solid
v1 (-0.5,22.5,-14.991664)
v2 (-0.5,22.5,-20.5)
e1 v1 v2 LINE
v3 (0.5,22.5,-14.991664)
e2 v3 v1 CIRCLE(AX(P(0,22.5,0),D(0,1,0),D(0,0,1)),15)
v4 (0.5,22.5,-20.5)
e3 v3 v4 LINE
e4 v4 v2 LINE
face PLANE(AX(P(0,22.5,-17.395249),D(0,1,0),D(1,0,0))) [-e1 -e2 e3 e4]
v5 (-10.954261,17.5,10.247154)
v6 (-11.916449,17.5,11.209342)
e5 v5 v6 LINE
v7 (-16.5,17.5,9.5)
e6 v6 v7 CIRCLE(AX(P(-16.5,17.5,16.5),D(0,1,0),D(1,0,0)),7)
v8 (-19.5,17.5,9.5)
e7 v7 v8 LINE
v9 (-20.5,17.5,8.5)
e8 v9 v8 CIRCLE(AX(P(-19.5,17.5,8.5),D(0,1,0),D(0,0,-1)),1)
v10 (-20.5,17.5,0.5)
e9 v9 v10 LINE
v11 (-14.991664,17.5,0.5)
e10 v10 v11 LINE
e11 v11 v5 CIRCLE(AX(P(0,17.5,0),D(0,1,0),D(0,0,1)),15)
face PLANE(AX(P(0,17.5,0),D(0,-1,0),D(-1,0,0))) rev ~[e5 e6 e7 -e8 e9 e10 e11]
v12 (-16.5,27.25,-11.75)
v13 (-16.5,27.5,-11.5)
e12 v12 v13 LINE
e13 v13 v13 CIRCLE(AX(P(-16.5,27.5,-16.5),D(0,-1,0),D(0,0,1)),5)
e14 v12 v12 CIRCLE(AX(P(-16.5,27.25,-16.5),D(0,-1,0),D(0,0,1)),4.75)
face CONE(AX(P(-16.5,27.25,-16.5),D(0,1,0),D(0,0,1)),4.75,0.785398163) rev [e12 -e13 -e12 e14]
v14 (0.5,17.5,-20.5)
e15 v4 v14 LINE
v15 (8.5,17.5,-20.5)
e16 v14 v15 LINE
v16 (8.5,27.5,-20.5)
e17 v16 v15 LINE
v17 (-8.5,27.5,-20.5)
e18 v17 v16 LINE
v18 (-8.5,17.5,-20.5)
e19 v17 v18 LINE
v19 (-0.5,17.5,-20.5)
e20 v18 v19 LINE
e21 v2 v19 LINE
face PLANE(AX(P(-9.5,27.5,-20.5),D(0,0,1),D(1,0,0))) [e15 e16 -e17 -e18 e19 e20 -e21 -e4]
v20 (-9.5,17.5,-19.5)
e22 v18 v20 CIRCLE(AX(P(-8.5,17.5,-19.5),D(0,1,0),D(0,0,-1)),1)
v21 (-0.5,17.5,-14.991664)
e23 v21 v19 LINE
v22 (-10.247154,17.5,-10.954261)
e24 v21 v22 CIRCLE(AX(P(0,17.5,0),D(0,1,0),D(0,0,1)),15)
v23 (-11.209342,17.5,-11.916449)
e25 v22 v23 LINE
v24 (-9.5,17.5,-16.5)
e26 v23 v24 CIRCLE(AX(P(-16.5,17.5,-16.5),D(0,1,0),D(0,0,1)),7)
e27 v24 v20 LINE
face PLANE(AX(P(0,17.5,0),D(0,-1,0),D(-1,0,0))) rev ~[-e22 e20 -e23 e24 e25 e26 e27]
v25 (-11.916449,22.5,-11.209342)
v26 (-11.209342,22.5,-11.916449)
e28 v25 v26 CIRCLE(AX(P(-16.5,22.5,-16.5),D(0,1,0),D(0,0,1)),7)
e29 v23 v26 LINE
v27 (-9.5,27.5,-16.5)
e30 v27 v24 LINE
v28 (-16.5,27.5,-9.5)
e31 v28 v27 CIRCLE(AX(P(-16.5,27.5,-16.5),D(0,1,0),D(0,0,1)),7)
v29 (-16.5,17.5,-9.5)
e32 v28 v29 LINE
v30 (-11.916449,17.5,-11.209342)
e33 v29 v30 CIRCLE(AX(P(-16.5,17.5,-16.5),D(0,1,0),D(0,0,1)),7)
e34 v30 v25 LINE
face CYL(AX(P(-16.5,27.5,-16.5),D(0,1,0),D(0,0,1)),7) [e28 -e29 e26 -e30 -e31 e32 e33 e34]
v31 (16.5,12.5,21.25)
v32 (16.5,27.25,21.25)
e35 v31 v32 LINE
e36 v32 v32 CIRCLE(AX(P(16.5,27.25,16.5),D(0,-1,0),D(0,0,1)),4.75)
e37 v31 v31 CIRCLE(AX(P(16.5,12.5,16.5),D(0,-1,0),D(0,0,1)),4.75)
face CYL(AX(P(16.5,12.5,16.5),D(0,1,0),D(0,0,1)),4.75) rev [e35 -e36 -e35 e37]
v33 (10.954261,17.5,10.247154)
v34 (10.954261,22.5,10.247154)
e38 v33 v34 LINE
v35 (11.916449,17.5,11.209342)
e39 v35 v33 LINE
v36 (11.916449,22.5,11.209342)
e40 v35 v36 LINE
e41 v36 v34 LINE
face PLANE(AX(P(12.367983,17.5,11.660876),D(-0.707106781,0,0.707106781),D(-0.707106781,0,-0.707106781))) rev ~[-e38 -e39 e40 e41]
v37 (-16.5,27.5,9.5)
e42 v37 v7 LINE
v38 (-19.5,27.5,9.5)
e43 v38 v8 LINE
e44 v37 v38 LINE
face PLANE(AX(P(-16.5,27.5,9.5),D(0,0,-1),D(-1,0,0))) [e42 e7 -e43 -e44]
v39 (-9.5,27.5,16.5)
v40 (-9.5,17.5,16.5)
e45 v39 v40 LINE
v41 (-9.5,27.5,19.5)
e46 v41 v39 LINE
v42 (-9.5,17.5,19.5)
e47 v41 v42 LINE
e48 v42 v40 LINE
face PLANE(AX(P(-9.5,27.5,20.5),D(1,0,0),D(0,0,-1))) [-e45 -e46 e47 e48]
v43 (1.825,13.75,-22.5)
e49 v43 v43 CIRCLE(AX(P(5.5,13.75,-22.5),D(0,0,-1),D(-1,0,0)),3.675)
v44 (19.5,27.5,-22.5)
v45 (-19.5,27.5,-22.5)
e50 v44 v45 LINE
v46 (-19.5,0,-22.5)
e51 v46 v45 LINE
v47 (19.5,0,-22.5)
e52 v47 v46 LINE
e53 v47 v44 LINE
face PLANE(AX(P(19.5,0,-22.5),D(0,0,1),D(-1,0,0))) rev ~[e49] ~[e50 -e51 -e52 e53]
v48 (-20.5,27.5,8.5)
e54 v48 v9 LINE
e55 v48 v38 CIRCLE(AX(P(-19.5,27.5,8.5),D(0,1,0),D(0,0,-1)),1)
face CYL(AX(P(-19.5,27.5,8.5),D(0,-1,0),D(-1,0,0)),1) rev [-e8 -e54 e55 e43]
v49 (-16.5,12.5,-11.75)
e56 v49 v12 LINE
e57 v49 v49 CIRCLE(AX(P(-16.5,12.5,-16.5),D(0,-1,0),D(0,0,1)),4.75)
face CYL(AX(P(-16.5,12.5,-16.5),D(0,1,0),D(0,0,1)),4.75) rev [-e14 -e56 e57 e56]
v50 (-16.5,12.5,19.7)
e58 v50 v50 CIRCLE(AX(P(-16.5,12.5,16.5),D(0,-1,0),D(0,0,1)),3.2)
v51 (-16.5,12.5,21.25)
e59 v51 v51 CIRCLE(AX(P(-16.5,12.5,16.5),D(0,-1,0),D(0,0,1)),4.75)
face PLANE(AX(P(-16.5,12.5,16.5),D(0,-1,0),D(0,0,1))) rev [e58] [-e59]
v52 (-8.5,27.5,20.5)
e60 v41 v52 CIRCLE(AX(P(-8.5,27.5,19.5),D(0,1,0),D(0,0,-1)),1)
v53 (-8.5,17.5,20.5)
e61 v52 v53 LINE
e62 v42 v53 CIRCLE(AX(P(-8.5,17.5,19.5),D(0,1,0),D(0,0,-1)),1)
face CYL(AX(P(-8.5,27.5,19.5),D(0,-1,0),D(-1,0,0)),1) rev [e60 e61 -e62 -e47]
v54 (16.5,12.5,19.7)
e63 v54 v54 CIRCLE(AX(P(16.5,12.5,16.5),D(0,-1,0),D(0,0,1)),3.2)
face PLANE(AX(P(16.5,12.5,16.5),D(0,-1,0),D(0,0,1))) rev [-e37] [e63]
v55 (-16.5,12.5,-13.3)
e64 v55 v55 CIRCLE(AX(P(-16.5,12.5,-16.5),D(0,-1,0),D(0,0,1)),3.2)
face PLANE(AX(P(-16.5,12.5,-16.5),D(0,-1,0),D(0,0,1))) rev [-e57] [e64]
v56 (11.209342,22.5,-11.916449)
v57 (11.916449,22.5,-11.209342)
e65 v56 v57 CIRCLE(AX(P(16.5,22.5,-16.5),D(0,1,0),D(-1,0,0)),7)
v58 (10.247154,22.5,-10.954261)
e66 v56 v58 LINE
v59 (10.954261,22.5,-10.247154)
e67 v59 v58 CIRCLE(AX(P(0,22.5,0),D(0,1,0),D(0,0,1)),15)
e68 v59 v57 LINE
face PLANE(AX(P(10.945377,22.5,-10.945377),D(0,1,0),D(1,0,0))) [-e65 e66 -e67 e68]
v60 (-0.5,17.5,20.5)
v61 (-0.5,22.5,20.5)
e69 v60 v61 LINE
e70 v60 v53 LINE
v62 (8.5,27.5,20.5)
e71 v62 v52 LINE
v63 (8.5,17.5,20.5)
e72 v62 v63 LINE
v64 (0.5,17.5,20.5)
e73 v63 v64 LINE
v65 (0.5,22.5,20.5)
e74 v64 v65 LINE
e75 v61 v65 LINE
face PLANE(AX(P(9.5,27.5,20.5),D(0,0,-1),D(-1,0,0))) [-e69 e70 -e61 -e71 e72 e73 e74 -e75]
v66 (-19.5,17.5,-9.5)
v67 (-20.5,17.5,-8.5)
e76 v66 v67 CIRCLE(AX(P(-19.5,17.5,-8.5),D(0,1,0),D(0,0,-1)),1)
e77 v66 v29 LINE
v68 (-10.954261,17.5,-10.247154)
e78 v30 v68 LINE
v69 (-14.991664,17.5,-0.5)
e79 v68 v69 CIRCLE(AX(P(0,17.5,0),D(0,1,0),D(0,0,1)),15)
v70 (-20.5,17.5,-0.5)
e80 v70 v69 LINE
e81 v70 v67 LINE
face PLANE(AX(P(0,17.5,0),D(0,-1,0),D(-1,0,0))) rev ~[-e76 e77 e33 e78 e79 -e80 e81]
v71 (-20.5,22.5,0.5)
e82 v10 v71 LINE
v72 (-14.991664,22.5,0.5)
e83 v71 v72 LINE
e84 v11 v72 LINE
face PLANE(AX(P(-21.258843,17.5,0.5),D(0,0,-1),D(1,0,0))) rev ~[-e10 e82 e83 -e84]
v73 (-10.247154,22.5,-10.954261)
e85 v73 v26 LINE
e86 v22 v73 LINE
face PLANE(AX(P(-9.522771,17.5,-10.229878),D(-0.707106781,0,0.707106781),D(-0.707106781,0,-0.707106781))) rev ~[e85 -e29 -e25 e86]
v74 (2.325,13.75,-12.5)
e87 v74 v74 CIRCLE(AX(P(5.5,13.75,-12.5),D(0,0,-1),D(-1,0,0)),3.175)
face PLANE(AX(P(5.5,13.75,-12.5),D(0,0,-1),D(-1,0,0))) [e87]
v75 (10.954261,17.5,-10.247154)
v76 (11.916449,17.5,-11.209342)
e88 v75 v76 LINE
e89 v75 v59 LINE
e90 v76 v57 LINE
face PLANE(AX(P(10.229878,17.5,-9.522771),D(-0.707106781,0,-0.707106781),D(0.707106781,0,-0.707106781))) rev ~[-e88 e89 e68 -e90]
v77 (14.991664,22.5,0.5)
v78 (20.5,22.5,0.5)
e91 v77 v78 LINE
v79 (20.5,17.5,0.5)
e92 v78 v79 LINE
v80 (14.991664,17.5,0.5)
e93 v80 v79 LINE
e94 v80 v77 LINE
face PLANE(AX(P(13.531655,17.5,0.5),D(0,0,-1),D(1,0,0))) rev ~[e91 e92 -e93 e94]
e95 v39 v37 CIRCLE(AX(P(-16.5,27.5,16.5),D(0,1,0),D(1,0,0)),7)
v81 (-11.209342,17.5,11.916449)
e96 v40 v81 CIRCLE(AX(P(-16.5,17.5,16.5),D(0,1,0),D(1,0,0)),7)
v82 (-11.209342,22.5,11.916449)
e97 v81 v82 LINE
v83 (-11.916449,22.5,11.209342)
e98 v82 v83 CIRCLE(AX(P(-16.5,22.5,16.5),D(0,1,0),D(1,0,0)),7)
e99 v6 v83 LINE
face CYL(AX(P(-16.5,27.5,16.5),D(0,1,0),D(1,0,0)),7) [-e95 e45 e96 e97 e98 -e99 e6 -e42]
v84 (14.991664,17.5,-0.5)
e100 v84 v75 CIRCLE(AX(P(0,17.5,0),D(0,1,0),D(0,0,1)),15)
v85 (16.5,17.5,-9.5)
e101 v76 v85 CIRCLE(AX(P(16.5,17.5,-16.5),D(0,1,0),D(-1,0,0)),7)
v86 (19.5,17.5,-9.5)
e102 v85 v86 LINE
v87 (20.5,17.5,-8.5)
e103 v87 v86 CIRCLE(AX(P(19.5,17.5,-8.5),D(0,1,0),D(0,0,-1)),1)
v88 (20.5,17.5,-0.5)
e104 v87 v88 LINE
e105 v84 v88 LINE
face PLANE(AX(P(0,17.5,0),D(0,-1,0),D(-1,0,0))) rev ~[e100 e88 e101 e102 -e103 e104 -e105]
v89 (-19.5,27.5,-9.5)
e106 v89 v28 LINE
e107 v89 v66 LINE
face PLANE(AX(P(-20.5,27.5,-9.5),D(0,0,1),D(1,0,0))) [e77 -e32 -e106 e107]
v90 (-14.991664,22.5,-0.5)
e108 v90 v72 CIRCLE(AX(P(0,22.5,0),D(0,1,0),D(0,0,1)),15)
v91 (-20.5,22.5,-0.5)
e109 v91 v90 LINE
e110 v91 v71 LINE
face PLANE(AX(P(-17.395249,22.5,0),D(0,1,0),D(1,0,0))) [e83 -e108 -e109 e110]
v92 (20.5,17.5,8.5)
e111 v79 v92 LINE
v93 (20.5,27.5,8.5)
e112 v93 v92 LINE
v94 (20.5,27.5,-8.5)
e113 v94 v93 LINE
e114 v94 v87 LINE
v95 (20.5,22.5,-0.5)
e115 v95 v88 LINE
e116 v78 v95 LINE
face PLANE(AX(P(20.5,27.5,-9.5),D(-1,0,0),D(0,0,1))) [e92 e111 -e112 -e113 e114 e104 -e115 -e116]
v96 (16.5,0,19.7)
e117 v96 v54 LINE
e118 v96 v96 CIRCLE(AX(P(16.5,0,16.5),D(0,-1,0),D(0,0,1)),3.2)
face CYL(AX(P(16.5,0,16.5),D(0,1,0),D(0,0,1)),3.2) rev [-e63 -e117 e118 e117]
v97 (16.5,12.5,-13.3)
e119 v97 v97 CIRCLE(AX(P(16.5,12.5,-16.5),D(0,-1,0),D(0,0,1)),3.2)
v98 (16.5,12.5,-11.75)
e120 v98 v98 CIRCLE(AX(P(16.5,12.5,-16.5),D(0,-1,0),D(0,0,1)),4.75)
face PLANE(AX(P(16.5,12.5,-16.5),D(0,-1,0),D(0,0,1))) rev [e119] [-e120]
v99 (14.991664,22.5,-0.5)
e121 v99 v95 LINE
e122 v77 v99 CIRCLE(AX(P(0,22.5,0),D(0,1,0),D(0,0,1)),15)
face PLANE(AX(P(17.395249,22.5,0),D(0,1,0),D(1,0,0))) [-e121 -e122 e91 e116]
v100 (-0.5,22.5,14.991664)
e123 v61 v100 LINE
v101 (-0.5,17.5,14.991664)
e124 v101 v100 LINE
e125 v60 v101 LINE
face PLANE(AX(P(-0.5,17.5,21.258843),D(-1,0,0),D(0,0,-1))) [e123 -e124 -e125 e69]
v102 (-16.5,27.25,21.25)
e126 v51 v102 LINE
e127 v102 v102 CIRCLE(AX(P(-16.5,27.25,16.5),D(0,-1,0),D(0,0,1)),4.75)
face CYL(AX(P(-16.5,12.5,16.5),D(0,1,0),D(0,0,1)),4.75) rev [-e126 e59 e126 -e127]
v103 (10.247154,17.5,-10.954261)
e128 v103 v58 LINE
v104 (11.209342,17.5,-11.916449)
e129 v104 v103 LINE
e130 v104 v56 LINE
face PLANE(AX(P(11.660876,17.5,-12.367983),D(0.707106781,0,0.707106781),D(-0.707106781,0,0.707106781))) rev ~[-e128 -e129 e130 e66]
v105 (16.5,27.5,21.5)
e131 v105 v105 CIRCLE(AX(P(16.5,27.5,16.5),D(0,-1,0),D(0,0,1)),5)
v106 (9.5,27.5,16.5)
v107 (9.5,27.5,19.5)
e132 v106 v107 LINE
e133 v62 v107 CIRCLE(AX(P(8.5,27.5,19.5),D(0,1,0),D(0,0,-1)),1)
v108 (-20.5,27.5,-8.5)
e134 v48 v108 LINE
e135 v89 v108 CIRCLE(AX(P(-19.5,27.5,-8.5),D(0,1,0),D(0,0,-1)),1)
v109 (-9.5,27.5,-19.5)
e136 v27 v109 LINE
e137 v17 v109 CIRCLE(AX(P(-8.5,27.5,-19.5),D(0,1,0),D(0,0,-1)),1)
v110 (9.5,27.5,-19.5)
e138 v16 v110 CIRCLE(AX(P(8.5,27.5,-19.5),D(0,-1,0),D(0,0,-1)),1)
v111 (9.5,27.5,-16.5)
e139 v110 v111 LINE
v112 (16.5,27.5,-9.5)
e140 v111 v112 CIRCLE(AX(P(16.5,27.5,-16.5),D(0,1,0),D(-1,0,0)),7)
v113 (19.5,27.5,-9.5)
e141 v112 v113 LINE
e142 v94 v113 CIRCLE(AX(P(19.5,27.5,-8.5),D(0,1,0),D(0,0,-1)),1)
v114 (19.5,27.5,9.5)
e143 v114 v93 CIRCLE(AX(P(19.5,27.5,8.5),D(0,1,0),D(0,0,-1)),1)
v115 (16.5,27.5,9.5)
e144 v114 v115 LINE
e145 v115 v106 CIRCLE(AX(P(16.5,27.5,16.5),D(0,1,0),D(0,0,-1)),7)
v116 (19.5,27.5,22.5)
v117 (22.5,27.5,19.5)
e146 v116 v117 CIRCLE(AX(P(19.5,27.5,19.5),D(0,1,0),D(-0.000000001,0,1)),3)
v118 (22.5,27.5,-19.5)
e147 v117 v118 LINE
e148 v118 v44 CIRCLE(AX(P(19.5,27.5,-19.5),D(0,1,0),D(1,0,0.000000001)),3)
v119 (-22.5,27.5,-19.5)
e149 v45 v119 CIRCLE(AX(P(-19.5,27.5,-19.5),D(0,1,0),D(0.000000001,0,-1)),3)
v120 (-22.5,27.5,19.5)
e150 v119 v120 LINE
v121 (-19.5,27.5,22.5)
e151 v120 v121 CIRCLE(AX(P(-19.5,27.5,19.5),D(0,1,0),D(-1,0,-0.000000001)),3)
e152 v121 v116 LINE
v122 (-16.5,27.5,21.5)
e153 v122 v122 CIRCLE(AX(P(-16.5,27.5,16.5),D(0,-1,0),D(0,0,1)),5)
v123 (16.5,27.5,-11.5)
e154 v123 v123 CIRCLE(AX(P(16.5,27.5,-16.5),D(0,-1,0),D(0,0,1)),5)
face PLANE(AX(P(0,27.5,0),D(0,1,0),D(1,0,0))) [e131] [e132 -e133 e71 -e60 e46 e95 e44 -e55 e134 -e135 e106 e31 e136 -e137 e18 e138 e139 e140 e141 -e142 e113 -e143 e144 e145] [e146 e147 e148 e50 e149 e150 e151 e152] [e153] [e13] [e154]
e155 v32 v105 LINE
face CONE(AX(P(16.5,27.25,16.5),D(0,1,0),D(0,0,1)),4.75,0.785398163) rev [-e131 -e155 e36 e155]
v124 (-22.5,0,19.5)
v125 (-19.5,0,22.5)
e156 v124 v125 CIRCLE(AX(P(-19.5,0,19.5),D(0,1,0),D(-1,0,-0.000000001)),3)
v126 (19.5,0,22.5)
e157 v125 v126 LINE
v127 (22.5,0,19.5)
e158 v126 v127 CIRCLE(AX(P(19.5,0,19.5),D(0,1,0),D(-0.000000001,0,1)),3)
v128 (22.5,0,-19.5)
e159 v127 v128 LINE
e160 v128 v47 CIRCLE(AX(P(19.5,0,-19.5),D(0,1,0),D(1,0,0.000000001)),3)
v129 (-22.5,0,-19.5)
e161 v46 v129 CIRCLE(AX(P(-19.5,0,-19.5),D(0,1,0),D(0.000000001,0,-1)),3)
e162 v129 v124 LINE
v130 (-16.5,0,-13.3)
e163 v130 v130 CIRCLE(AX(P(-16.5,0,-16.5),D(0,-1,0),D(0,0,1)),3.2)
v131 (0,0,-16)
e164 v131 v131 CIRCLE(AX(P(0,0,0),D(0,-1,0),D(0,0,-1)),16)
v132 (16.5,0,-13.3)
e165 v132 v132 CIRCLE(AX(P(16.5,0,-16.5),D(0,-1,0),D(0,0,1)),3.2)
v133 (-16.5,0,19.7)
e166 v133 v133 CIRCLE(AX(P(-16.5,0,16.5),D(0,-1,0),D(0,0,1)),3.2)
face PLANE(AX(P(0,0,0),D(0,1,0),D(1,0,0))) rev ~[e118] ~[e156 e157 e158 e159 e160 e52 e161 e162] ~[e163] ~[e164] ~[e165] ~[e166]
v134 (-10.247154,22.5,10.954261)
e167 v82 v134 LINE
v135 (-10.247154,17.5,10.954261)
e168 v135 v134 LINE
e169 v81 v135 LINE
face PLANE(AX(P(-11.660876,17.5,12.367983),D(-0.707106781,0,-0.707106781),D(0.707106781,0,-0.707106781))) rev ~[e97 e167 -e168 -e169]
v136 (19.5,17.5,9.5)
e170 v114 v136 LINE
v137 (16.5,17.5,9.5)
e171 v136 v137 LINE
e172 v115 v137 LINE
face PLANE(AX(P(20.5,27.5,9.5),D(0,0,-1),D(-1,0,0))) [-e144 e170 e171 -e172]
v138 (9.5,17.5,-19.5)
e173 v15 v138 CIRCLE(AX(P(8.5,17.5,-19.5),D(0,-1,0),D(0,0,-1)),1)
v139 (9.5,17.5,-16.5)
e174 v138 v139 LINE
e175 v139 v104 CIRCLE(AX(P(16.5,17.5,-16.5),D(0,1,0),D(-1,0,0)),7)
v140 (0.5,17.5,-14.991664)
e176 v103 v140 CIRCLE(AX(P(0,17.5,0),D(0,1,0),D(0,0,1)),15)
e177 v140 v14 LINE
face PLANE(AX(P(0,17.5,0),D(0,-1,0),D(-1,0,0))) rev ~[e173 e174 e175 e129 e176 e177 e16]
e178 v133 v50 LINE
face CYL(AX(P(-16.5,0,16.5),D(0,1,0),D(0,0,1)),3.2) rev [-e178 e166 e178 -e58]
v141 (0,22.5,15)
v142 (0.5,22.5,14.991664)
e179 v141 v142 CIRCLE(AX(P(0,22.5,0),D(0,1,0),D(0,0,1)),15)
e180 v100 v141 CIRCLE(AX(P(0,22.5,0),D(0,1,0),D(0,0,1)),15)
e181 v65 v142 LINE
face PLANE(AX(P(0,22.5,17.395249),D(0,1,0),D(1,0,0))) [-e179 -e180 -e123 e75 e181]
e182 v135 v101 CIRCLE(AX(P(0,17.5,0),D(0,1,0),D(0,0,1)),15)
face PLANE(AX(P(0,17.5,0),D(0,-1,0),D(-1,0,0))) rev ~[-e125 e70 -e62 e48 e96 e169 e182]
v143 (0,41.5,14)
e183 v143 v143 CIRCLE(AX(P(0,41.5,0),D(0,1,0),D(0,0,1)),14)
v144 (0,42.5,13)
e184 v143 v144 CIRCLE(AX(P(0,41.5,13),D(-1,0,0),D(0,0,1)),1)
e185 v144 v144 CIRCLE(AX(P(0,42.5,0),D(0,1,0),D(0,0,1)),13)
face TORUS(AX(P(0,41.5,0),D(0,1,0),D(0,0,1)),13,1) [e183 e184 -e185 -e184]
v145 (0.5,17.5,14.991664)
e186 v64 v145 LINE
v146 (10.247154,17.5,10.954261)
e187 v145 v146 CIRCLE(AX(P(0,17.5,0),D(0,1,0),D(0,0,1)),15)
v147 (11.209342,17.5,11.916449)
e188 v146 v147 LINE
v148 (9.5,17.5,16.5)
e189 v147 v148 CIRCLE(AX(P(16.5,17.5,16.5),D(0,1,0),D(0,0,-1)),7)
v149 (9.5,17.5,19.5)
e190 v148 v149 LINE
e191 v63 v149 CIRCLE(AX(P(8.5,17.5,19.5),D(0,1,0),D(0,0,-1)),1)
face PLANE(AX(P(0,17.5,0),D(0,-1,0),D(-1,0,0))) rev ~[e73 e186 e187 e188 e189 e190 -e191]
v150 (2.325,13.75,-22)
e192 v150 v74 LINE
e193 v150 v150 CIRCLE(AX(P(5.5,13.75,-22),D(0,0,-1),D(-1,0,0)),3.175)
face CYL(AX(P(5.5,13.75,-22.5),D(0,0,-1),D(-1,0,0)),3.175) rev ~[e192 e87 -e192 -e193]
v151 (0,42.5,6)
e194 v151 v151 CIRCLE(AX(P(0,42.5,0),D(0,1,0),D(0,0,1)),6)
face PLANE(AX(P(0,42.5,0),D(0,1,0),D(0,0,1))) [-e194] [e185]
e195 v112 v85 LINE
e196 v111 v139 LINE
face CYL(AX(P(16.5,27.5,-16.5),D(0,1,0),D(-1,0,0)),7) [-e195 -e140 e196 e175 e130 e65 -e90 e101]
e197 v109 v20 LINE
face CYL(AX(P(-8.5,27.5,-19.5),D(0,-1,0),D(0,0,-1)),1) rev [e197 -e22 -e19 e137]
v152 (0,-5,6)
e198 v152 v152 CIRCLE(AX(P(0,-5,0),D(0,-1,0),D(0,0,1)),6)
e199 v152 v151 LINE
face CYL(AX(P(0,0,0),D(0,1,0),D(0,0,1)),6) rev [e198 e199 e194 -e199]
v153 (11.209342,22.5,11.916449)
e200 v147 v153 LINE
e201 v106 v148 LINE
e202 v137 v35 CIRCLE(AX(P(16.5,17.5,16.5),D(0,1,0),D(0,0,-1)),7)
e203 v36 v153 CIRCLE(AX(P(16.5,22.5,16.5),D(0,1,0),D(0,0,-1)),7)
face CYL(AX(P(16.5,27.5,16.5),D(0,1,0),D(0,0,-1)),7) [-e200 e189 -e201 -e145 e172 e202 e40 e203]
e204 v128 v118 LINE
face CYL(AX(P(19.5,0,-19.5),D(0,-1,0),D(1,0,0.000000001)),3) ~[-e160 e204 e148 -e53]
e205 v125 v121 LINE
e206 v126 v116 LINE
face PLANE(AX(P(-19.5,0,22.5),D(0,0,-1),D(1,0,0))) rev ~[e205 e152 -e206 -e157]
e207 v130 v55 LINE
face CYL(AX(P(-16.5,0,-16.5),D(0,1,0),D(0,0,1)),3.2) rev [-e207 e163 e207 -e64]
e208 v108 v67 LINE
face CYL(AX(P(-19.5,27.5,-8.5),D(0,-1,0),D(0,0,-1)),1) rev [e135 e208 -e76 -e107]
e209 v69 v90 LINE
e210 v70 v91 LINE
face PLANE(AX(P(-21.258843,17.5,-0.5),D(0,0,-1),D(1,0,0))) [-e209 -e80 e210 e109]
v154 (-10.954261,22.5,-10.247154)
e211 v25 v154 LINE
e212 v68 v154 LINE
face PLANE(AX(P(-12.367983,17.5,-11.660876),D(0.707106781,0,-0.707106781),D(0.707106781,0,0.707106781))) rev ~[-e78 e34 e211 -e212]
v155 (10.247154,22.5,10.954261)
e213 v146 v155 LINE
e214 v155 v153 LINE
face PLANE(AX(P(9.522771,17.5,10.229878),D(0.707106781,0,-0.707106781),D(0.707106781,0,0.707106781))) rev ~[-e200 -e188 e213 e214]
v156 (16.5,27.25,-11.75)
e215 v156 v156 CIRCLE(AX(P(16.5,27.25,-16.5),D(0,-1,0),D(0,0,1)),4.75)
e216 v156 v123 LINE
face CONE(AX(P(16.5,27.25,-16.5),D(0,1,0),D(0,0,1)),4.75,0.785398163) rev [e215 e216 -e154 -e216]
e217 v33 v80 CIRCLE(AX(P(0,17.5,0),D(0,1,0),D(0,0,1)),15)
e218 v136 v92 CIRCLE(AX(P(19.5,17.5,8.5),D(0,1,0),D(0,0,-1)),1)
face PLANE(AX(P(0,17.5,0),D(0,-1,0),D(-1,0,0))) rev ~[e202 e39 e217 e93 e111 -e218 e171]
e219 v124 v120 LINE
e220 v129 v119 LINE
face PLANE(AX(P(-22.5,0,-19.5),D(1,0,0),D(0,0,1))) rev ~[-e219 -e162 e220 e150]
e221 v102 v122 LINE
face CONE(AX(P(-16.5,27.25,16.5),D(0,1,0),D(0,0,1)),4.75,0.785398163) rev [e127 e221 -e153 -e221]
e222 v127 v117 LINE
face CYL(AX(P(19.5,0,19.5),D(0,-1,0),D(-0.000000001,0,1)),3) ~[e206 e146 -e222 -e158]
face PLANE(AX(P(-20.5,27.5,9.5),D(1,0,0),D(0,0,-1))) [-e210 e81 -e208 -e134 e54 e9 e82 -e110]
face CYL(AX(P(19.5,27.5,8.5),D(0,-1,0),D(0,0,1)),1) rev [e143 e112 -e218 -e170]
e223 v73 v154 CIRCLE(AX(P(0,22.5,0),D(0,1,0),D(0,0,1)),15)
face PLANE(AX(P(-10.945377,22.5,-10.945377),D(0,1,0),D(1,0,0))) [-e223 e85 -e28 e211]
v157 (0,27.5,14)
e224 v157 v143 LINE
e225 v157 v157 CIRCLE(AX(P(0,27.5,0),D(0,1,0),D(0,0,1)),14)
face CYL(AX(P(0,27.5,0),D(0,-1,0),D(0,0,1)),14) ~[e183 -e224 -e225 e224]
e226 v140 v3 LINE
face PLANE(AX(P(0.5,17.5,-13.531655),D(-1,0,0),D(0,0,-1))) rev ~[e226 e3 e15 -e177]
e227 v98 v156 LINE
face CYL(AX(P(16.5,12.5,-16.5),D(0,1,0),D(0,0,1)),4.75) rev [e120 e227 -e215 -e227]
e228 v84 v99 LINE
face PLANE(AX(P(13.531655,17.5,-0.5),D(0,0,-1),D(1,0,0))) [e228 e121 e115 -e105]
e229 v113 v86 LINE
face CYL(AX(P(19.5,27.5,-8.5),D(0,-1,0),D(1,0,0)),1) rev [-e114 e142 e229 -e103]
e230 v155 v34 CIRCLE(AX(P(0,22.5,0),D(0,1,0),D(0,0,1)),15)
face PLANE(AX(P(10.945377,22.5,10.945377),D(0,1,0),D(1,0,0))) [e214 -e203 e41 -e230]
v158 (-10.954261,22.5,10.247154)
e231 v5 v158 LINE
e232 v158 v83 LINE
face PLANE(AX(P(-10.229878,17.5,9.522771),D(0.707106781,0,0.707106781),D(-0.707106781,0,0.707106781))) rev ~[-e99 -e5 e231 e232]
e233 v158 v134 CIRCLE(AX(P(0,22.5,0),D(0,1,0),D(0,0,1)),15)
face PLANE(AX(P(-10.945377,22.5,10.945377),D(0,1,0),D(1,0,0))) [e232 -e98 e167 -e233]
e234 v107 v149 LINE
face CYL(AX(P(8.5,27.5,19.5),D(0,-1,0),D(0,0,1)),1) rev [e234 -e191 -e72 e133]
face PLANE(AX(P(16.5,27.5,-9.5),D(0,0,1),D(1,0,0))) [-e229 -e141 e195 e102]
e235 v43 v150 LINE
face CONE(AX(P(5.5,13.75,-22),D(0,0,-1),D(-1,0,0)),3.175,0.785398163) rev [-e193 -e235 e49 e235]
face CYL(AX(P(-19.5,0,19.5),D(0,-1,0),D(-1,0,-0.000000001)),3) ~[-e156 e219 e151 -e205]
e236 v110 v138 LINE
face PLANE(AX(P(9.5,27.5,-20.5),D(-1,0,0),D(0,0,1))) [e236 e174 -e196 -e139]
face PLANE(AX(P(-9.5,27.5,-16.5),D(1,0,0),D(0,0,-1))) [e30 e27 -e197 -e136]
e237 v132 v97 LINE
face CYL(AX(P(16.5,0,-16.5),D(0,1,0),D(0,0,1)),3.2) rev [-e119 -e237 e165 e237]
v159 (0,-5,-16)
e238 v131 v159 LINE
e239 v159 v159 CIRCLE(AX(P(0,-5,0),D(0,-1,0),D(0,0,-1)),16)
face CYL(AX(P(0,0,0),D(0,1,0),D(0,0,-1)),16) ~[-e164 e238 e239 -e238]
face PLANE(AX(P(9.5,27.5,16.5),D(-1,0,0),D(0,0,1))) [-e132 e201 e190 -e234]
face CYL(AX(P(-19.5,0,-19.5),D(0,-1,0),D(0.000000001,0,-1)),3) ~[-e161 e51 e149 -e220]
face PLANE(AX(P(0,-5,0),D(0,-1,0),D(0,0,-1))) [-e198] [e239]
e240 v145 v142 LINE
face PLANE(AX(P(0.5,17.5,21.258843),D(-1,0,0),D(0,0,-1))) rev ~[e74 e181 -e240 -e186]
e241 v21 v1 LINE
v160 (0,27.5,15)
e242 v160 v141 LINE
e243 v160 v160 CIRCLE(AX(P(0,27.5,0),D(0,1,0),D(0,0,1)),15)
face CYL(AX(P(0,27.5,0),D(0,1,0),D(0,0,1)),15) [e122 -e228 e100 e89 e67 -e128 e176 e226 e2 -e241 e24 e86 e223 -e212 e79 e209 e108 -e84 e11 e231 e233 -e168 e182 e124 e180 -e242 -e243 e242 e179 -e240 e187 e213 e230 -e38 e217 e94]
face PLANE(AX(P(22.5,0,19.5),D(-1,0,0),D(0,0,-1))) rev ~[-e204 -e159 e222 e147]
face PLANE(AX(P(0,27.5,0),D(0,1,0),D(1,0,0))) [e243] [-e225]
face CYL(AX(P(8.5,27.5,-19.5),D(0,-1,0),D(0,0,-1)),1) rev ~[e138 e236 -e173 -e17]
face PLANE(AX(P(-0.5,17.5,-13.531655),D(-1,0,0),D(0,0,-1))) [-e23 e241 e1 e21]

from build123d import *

# Parameters (mm, degrees)
BOSS_EXTRUDE1_DEPTH                          = 27.5
CBORE_FOR_M6_HEX_SOCKET_HEAD_CAP_SCR_2_COUNT = 2
CBORE_FOR_M6_HEX_SOCKET_HEAD_CAP_SCR_2_PITCH = 33
CBORE_FOR_M6_HEX_SOCKET_HEAD_CAP_SCR_3_COUNT = 2
CBORE_FOR_M6_HEX_SOCKET_HEAD_CAP_SCR_3_PITCH = 46.669047558
CBORE_FOR_M6_HEX_SOCKET_HEAD_CAP_SCR_4_COUNT = 2
CBORE_FOR_M6_HEX_SOCKET_HEAD_CAP_SCR_4_PITCH = 33
SKETCH8_R                                    = 15
CUT_EXTRUDE3_DEPTH                           = 10
SKETCH9_W                                    = 1
SKETCH9_H                                    = 7.727187909
SKETCH9_W_2                                  = 7.727187909
SKETCH9_H_2                                  = 1
EXTRUDE_THIN3_DEPTH                          = 5
FILLET1_R                                    = 1
SKETCH10_R                                   = 14
BOSS_EXTRUDE2_DEPTH                          = 15
FILLET2_R                                    = 1
SKETCH11_R                                   = 6
CUT_EXTRUDE4_DEPTH                           = 54.091901454
SKETCH12_R                                   = 16
SKETCH12_R_2                                 = 6
BOSS_EXTRUDE3_DEPTH                          = 5
SKETCH14_R                                   = 3.175
CUT_EXTRUDE6_DEPTH                           = 10
CHAMFER2_SIZE                                = 0.5


with BuildPart() as part:
    # Sketch1 → Boss-Extrude1 (new body)
    with BuildSketch(Plane(origin=(0, 0, 0), x_dir=(1, 0, 0), z_dir=(0, 1, 0))):
        with BuildLine():
            Line((-19.5, -22.5), (19.5, -22.5))
            ThreePointArc((19.5, -22.5), (21.621320344, -21.621320344), (22.5, -19.5))
            Line((22.5, -19.5), (22.5, 19.5))
            ThreePointArc((22.5, 19.5), (21.621320344, 21.621320344), (19.5, 22.5))
            Line((19.5, 22.5), (-19.5, 22.5))
            ThreePointArc((-19.5, 22.5), (-21.621320344, 21.621320344), (-22.5, 19.5))
            Line((-22.5, 19.5), (-22.5, -19.5))
            ThreePointArc((-22.5, -19.5), (-21.621320344, -21.621320344), (-19.5, -22.5))
        make_face()
    extrude(amount=BOSS_EXTRUDE1_DEPTH)

    # Sketch3 → CBORE for M6 Hex Socket Head Cap Screw1 (revolve, cut)
    with BuildSketch(Plane(origin=(-16.5, 27.5, -16.5), x_dir=(0, 0, 1), z_dir=(1, 0, 0))):
        Polygon((0, 0), (0, 27.5), (3.2, 27.5), (3.2, 15), (4.75, 15), (4.75, 0.25), (5, 0), align=None)
    cbore_for_m6_hex_socket_head_cap_screw1 = revolve(axis=Axis((-16.5, 33.85, -16.5), (0, -1, 0)), mode=Mode.SUBTRACT)

    # CBORE for M6 Hex Socket Head Cap Scr 2: CBORE for M6 Hex Socket Head Cap Screw1 ×2
    with Locations(*[(i * CBORE_FOR_M6_HEX_SOCKET_HEAD_CAP_SCR_2_PITCH, 0, 0) for i in range(1, CBORE_FOR_M6_HEX_SOCKET_HEAD_CAP_SCR_2_COUNT)]):
        add(cbore_for_m6_hex_socket_head_cap_screw1, mode=Mode.SUBTRACT)

    # CBORE for M6 Hex Socket Head Cap Scr 3: CBORE for M6 Hex Socket Head Cap Screw1 ×2
    with Locations(*[Vector(0.7071067811865476, 0, 0.7071067811865475) * (i * CBORE_FOR_M6_HEX_SOCKET_HEAD_CAP_SCR_3_PITCH) for i in range(1, CBORE_FOR_M6_HEX_SOCKET_HEAD_CAP_SCR_3_COUNT)]):
        add(cbore_for_m6_hex_socket_head_cap_screw1, mode=Mode.SUBTRACT)

    # CBORE for M6 Hex Socket Head Cap Scr 4: CBORE for M6 Hex Socket Head Cap Screw1 ×2
    with Locations(*[(0, 0, i * CBORE_FOR_M6_HEX_SOCKET_HEAD_CAP_SCR_4_PITCH) for i in range(1, CBORE_FOR_M6_HEX_SOCKET_HEAD_CAP_SCR_4_COUNT)]):
        add(cbore_for_m6_hex_socket_head_cap_screw1, mode=Mode.SUBTRACT)

    # Sketch8 → Cut-Extrude3 (cut)
    with BuildSketch(Plane(origin=(0, 27.5, 0), x_dir=(1, 0, 0), z_dir=(0, 1, 0))):
        with BuildLine():
            ThreePointArc((-9.5, -16.5), (-11.550252532, -11.550252532), (-16.5, -9.5))
            Line((-16.5, -9.5), (-20.5, -9.5))
            Line((-20.5, -9.5), (-20.5, 0))
            Line((-20.5, 0), (-20.5, 9.5))
            Line((-20.5, 9.5), (-16.5, 9.5))
            ThreePointArc((-16.5, 9.5), (-11.550252532, 11.550252532), (-9.5, 16.5))
            Line((-9.5, 16.5), (-9.5, 20.5))
            Line((-9.5, 20.5), (0, 20.5))
            Line((0, 20.5), (9.5, 20.5))
            Line((9.5, 20.5), (9.5, 16.5))
            ThreePointArc((9.5, 16.5), (11.550252532, 11.550252532), (16.5, 9.5))
            Line((16.5, 9.5), (20.5, 9.5))
            Line((20.5, 9.5), (20.5, 0))
            Line((20.5, 0), (20.5, -9.5))
            Line((20.5, -9.5), (16.5, -9.5))
            ThreePointArc((16.5, -9.5), (11.550252532, -11.550252532), (9.5, -16.5))
            Line((9.5, -16.5), (9.5, -20.5))
            Line((9.5, -20.5), (0, -20.5))
            Line((0, -20.5), (-9.5, -20.5))
            Line((-9.5, -20.5), (-9.5, -16.5))
        make_face()
        with Locations(Location((0, 0, 0), (0, 0, 270))):
            Circle(SKETCH8_R, mode=Mode.SUBTRACT)
    extrude(amount=-CUT_EXTRUDE3_DEPTH, mode=Mode.SUBTRACT)

    # Sketch9 → Extrude-Thin3 (add)
    with BuildSketch(Plane(origin=(0, 17.5, 0), x_dir=(1, 0, 0), z_dir=(0, 1, 0))):
        with Locations((0, 17.395249071)):
            Rectangle(SKETCH9_W, SKETCH9_H)
        Polygon((-9.522770805, 10.229877587), (-11.660876198, 12.367982979), (-12.367982979, 11.660876198), (-10.229877587, 9.522770805), align=None)
        with Locations((17.395249071, 0)):
            Rectangle(SKETCH9_W_2, SKETCH9_H_2)
        Polygon((10.229877587, 9.522770805), (12.367982979, 11.660876198), (11.660876198, 12.367982979), (9.522770805, 10.229877587), align=None)
        with Locations((0, -17.395249071)):
            Rectangle(SKETCH9_W, SKETCH9_H)
        Polygon((9.522770805, -10.229877587), (11.660876198, -12.367982979), (12.367982979, -11.660876198), (10.229877587, -9.522770805), align=None)
        with Locations((-17.395249071, 0)):
            Rectangle(SKETCH9_W_2, SKETCH9_H_2)
        Polygon((-10.229877587, -9.522770805), (-12.367982979, -11.660876198), (-11.660876198, -12.367982979), (-9.522770805, -10.229877587), align=None)
    extrude(amount=EXTRUDE_THIN3_DEPTH)

    # Fillet1
    fillet1_edges = [part.edges().sort_by_distance(p)[0] for p in [
        (-20.5, 22.5, 9.5),
        (-20.5, 22.5, -9.5),
        (-9.5, 22.5, -20.5),
        (9.5, 22.5, -20.5),
        (20.5, 22.5, -9.5),
        (20.5, 22.5, 9.5),
        (9.5, 22.5, 20.5),
        (-9.5, 22.5, 20.5),
    ]]
    fillet(fillet1_edges, radius=FILLET1_R)

    # Sketch10 → Boss-Extrude2 (add)
    with BuildSketch(Plane(origin=(0, 27.5, 0), x_dir=(1, 0, 0), z_dir=(0, 1, 0))):
        with Locations(Location((0, 0, 0), (0, 0, 270))):
            Circle(SKETCH10_R)
    extrude(amount=BOSS_EXTRUDE2_DEPTH)

    # Fillet2
    fillet2_edges = [part.edges().sort_by_distance(p)[0] for p in [
        (0, 42.5, -14),
    ]]
    fillet(fillet2_edges, radius=FILLET2_R)

    # Sketch11 → Cut-Extrude4 (cut, through all)
    with BuildSketch(Plane(origin=(0, 42.5, 0), x_dir=(1, 0, 0), z_dir=(0, 1, 0))):
        with Locations(Location((0, 0, 0), (0, 0, 270))):
            Circle(SKETCH11_R)
    extrude(amount=-CUT_EXTRUDE4_DEPTH, mode=Mode.SUBTRACT)

    # Sketch12 → Boss-Extrude3 (add)
    with BuildSketch(Plane.XZ):
        with Locations(Location((0, 0, 0), (0, 0, 270))):
            Circle(SKETCH12_R)
        with Locations(Location((0, 0, 0), (0, 0, 90))):
            Circle(SKETCH12_R_2, mode=Mode.SUBTRACT)
    extrude(amount=BOSS_EXTRUDE3_DEPTH)

    # Sketch14 → Cut-Extrude6 (cut)
    with BuildSketch(Plane(origin=(0, 0, -22.5), x_dir=(-1, 0, 0), z_dir=(0, 0, -1))):
        with Locations((-5.5, 13.75)):
            Circle(SKETCH14_R)
    extrude(amount=-CUT_EXTRUDE6_DEPTH, mode=Mode.SUBTRACT)

    # Chamfer2
    chamfer2_edges = [part.edges().sort_by_distance(p)[0] for p in [
        (8.675, 13.75, -22.5),
    ]]
    chamfer(chamfer2_edges, length=CHAMFER2_SIZE)


solid = part.part
